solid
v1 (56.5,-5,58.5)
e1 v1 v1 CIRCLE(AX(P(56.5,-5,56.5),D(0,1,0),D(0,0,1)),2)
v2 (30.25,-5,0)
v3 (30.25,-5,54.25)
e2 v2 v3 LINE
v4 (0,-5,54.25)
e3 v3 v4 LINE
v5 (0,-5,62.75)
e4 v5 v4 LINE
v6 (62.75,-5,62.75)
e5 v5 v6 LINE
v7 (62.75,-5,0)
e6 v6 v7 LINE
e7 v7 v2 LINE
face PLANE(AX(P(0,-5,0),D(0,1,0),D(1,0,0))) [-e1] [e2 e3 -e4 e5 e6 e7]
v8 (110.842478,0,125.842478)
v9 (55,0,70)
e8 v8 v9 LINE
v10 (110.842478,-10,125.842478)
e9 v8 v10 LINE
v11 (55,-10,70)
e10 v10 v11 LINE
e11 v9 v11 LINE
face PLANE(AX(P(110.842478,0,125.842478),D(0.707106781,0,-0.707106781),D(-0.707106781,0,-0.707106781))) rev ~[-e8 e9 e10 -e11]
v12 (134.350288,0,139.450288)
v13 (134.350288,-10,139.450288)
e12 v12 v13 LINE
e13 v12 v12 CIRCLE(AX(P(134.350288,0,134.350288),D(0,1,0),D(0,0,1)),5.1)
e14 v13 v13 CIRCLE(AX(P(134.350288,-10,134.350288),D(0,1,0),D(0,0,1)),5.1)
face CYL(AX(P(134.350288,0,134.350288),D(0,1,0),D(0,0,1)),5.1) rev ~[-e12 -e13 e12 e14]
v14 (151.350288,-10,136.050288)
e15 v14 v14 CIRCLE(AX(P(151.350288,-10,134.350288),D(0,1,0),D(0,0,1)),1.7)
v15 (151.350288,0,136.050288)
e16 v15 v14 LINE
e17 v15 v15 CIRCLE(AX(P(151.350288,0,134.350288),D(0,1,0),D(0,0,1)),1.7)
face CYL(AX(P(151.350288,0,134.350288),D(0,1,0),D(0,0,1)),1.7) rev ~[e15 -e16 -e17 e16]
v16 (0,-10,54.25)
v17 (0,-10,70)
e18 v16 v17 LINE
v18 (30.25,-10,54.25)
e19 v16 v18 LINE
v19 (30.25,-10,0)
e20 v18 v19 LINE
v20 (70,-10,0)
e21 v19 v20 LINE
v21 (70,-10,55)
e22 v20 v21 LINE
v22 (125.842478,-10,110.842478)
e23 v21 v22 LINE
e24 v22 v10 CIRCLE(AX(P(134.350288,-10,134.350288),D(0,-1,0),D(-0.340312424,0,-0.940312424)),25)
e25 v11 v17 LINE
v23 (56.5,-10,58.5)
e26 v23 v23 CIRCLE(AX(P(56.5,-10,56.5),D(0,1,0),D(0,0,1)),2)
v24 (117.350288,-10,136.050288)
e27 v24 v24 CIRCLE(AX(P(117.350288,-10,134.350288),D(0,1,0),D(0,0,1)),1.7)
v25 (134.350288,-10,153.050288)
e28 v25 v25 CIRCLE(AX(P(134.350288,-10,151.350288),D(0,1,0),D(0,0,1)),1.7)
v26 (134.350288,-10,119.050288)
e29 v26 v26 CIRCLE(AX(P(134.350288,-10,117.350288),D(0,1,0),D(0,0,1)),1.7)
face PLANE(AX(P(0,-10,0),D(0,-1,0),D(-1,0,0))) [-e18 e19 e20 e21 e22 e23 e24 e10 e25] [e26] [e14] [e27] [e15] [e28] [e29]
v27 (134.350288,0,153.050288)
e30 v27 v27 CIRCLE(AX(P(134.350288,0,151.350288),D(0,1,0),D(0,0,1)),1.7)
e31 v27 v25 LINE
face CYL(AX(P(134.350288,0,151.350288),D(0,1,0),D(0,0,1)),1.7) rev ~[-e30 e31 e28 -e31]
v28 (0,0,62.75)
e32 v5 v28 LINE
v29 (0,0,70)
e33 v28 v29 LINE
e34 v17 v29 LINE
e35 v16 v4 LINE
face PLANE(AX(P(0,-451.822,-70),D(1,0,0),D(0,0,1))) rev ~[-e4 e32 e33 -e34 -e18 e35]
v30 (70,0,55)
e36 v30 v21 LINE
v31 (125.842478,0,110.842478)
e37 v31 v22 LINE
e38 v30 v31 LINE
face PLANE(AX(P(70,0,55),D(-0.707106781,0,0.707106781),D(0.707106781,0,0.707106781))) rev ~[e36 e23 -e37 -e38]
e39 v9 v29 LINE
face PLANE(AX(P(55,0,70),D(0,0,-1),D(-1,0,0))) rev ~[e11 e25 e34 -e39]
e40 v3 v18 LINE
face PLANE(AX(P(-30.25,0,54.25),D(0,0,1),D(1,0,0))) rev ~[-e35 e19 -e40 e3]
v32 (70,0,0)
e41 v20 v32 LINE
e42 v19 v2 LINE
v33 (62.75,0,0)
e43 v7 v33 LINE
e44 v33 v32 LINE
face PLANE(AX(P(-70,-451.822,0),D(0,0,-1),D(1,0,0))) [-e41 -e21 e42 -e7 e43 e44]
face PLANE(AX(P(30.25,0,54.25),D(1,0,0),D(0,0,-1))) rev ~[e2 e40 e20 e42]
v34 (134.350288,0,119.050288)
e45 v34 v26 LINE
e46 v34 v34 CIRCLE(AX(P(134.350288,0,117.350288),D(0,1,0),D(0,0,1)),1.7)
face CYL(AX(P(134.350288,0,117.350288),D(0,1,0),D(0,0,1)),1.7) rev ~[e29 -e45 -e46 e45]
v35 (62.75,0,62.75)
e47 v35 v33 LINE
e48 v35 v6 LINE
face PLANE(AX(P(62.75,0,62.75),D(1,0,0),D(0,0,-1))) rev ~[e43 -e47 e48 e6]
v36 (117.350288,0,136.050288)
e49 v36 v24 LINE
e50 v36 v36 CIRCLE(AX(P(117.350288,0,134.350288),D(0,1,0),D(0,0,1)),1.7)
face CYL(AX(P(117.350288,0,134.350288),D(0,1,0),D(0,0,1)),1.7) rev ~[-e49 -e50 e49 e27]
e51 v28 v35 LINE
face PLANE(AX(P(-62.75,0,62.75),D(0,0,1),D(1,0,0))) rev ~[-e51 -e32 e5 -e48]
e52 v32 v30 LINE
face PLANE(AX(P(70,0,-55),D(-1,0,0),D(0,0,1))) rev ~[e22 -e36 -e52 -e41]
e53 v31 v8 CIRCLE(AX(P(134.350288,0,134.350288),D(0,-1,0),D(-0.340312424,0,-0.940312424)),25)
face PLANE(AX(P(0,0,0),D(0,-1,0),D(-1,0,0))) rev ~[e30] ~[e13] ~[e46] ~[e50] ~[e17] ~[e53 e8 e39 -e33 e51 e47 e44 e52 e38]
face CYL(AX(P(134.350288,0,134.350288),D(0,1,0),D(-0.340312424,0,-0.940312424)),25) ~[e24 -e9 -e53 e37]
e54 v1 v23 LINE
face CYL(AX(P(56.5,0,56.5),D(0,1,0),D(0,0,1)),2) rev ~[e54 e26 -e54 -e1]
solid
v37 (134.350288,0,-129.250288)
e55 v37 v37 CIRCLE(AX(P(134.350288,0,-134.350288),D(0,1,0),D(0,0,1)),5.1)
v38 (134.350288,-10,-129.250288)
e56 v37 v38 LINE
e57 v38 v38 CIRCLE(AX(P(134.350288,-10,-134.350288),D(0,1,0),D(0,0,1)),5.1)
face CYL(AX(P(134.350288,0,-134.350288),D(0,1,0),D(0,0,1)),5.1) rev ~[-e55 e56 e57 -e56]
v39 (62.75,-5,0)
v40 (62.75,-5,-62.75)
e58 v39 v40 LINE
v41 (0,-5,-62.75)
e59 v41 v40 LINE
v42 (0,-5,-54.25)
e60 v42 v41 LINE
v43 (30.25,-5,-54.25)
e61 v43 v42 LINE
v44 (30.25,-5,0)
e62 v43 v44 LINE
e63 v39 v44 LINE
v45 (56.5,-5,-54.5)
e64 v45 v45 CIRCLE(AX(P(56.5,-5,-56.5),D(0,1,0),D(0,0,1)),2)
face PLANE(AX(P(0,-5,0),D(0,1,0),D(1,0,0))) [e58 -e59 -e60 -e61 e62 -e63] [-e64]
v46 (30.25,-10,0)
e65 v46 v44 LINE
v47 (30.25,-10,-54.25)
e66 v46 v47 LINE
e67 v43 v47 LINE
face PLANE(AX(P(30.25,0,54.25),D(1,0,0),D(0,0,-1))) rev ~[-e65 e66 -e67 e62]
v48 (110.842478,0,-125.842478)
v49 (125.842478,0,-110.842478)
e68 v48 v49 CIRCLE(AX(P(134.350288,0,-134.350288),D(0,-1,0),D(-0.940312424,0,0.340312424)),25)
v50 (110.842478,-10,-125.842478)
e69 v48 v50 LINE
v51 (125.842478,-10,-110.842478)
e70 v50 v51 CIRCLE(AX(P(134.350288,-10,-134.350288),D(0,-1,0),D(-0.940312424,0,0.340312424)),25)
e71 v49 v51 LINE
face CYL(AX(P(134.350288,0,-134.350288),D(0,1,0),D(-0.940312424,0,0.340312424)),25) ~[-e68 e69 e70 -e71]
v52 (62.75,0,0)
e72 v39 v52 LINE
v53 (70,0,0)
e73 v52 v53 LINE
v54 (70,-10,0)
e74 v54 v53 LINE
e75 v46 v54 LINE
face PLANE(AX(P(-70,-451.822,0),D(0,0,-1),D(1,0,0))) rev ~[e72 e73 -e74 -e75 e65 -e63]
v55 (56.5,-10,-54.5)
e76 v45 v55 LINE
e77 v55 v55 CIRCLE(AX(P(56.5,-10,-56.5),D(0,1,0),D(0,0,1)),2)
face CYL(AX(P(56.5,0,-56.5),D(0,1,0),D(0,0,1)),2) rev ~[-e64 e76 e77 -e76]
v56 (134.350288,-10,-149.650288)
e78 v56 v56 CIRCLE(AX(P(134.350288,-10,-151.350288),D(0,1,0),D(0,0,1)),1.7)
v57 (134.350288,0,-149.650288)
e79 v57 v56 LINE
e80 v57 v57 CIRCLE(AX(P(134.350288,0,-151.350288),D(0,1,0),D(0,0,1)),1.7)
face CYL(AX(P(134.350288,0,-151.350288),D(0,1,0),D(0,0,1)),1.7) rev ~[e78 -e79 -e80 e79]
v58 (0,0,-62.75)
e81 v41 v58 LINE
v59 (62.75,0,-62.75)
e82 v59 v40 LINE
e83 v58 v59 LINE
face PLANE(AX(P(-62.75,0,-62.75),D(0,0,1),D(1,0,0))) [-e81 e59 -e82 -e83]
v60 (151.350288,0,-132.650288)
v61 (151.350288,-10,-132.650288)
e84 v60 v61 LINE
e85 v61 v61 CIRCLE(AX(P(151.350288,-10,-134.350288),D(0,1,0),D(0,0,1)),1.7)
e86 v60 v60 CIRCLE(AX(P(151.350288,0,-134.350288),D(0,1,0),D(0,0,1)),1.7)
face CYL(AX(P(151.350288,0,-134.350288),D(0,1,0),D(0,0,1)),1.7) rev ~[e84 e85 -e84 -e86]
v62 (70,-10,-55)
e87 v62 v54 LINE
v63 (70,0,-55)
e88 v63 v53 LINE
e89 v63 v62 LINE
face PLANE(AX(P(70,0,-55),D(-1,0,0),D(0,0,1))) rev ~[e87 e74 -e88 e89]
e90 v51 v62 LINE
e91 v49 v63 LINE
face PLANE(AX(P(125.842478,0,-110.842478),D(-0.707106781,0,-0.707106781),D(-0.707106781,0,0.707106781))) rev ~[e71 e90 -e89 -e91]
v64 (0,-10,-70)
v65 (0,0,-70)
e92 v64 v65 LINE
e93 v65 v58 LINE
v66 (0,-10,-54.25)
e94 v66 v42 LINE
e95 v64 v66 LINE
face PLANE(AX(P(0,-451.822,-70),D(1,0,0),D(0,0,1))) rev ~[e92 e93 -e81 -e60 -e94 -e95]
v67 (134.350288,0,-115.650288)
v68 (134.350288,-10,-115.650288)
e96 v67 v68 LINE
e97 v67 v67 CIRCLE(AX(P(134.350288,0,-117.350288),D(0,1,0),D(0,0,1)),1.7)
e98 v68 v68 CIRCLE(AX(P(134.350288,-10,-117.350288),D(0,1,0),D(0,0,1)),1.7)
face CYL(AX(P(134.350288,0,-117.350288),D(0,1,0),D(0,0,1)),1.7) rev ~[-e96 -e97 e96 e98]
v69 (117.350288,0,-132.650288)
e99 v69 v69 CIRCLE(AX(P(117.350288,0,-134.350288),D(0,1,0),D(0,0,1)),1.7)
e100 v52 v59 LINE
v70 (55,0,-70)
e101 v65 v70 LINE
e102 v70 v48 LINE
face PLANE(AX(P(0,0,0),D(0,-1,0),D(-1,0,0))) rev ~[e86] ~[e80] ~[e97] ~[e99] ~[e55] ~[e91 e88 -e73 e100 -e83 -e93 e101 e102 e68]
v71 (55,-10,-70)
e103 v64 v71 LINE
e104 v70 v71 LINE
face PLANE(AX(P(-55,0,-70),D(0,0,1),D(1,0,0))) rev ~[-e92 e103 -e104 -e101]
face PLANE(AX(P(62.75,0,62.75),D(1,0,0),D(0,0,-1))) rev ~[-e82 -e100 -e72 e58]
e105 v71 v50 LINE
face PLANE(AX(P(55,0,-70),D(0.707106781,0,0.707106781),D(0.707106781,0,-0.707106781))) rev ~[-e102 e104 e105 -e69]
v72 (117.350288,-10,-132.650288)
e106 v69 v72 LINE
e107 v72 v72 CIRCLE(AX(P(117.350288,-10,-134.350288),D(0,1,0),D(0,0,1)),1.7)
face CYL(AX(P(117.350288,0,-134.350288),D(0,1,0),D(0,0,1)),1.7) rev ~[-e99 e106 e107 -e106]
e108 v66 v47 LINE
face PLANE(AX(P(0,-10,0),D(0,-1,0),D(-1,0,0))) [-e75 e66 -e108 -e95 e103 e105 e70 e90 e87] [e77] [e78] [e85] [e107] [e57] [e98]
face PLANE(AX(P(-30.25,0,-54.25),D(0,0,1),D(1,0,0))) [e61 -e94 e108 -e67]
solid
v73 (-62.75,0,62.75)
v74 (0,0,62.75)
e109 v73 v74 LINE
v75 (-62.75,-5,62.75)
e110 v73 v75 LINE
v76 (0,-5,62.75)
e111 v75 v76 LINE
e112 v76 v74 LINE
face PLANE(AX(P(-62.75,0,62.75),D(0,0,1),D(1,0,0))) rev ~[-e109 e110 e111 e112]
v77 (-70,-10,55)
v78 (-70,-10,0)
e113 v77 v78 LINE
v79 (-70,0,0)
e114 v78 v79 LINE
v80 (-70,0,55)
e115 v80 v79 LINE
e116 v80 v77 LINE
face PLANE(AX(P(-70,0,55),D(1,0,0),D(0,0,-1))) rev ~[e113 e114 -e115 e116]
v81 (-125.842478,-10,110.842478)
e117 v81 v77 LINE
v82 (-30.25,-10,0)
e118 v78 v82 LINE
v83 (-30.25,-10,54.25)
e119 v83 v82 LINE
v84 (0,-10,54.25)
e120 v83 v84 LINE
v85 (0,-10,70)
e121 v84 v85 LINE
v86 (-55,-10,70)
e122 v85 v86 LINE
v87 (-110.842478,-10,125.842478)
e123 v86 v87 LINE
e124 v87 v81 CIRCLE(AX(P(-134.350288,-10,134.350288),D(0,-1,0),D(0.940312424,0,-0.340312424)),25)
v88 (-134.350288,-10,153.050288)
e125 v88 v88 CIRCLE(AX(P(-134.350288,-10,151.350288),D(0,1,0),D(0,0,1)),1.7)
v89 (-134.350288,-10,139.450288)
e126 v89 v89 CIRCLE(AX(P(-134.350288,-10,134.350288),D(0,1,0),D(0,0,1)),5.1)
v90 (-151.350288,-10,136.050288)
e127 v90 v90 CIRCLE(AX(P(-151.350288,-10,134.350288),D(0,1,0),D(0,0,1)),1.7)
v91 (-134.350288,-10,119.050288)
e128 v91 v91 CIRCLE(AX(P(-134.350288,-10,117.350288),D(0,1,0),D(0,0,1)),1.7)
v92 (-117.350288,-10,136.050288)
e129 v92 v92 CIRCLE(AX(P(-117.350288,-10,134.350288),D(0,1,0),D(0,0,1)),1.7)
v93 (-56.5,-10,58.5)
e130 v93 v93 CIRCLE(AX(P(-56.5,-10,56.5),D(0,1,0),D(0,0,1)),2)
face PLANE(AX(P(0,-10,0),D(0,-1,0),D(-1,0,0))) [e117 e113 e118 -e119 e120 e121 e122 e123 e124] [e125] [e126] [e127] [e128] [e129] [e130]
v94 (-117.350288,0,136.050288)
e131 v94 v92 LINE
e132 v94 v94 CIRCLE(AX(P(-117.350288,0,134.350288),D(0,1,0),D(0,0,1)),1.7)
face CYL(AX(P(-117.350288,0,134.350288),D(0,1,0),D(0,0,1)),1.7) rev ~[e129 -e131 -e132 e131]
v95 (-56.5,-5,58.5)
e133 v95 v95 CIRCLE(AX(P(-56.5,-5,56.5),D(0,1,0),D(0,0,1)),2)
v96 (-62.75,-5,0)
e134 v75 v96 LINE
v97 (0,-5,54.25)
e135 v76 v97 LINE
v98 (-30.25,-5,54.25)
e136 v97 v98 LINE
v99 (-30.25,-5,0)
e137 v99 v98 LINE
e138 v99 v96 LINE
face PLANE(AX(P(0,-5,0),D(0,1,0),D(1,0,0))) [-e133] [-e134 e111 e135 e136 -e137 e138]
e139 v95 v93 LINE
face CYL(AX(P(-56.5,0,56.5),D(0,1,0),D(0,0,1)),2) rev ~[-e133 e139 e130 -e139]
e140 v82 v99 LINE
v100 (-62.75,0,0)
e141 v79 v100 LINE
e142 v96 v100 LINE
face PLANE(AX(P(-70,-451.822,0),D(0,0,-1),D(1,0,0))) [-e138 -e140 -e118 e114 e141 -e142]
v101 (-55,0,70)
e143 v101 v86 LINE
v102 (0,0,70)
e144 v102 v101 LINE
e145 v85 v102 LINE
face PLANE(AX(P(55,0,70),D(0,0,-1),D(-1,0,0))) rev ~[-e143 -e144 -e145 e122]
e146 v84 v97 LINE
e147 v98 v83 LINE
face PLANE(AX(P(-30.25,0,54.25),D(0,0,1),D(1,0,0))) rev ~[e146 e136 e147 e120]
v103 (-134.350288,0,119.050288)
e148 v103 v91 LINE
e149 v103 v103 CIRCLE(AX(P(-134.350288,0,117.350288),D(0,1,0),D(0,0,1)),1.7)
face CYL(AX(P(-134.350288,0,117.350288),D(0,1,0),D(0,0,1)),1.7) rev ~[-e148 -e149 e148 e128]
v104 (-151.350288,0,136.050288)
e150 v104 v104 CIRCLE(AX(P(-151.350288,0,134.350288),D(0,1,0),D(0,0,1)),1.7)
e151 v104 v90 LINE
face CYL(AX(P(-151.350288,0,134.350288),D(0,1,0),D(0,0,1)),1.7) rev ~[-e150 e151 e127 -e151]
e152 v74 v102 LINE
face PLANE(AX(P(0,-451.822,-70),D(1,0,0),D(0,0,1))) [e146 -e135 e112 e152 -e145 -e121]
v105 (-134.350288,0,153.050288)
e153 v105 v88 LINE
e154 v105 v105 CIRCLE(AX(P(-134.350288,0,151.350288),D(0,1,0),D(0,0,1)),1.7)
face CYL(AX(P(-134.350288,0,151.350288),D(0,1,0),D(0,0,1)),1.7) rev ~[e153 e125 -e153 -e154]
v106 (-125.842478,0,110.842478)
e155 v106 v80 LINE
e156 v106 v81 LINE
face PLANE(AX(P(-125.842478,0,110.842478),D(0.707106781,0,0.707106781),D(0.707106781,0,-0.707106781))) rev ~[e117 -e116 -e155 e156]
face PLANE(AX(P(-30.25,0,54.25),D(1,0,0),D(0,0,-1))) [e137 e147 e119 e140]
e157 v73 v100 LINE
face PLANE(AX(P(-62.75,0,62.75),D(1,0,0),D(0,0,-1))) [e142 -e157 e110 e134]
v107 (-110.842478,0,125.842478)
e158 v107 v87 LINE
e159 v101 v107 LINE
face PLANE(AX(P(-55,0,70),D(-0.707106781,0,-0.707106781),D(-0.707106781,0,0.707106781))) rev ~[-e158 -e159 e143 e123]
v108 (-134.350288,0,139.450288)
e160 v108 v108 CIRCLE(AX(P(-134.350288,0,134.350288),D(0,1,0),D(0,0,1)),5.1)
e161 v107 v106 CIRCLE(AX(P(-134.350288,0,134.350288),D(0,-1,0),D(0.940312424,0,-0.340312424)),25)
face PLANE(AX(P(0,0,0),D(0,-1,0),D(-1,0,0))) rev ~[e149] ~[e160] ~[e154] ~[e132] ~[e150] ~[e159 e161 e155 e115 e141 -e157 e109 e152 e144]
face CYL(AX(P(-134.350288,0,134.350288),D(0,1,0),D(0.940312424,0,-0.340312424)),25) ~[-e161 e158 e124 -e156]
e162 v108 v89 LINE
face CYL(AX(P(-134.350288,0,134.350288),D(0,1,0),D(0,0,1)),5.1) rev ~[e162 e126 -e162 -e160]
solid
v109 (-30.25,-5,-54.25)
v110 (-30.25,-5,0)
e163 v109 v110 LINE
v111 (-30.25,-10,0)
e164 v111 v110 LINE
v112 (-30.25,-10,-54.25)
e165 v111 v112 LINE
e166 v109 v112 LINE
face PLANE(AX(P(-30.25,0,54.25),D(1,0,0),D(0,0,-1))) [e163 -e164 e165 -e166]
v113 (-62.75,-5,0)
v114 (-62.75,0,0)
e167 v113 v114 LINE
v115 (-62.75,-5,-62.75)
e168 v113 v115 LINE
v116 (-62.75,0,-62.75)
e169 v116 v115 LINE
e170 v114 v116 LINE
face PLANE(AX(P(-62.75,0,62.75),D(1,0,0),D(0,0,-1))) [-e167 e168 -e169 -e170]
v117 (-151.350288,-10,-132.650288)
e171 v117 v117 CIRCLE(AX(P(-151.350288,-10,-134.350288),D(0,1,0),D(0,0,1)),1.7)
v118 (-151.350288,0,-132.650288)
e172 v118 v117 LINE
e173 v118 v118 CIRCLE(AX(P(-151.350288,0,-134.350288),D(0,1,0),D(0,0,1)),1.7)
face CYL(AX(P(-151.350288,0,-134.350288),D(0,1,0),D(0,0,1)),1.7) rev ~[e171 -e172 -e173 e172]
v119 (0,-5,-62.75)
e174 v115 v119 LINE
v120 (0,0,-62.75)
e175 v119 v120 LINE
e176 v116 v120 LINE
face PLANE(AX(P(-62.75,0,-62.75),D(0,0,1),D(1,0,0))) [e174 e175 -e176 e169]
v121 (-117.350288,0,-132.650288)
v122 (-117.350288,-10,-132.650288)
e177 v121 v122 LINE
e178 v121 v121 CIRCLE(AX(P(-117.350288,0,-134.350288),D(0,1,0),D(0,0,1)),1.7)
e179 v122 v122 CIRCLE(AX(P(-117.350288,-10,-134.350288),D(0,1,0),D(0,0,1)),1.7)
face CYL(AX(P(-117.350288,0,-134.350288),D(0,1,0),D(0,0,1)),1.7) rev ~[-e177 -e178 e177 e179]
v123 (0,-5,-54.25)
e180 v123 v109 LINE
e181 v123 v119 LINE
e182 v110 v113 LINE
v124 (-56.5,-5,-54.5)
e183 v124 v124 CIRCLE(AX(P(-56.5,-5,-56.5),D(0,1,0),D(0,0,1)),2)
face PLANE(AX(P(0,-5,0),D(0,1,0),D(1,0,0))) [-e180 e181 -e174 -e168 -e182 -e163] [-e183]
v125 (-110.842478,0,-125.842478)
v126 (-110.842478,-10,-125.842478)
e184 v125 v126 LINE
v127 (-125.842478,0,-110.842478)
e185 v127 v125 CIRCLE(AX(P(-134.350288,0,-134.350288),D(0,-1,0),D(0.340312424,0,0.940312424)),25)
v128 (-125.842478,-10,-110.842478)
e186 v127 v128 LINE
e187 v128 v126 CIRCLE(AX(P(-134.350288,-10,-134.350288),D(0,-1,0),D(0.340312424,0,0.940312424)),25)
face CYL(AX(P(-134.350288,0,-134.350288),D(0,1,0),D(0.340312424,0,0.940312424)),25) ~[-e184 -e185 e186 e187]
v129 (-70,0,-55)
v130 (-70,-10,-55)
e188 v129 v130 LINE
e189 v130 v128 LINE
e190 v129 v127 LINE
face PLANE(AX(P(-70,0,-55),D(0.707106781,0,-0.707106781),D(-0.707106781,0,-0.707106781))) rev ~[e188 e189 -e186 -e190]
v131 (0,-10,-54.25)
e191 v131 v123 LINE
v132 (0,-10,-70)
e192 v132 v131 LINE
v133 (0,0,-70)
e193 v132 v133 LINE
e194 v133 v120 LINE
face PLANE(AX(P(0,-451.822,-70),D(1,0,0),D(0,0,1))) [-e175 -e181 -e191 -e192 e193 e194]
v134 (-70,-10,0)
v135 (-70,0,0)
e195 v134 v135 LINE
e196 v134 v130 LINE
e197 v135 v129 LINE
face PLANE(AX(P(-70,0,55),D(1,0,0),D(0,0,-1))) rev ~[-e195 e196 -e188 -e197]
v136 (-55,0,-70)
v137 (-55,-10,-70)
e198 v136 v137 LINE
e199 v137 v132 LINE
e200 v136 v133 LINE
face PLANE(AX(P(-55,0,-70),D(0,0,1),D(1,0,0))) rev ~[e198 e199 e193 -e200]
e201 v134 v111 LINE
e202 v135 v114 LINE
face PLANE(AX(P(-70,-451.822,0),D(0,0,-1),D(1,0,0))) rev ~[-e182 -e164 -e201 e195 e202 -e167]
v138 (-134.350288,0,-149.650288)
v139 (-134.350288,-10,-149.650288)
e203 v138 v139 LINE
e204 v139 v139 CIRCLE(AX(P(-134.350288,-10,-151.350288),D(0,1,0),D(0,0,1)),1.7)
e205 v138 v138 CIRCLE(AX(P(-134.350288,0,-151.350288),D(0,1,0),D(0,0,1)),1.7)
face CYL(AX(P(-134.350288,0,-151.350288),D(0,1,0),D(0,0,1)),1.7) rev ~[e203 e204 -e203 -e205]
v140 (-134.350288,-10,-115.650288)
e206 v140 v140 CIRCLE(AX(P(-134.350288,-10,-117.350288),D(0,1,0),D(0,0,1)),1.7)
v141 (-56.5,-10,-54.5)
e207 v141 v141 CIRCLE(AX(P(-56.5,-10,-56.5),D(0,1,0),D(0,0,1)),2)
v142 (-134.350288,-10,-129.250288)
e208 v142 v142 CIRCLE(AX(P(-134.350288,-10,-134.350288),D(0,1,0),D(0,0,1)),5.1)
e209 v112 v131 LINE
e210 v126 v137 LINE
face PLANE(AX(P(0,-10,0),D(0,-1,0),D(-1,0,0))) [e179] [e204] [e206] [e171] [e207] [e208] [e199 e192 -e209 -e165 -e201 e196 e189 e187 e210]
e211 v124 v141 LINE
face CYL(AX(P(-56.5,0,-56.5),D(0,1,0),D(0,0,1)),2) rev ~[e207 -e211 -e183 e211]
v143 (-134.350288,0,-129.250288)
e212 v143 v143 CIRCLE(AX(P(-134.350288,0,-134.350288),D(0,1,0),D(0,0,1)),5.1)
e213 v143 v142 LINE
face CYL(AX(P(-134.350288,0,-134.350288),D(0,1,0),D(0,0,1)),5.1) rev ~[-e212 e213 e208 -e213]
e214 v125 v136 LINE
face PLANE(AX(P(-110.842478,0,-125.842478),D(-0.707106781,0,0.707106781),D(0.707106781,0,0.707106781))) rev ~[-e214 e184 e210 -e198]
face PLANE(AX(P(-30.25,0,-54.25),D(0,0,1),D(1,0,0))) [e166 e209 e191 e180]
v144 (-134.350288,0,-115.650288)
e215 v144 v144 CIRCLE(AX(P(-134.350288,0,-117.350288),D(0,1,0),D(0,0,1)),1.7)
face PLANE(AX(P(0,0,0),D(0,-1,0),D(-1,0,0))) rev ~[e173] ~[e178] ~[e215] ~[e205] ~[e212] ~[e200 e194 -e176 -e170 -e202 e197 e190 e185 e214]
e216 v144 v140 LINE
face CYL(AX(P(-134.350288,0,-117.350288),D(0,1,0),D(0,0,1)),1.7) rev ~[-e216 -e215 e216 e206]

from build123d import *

# Parameters (mm, degrees)
SKETCH_1_R                       = 2
SKETCH_1_R_2                     = 1.7
SKETCH_1_R_3                     = 5.1
SKETCH_1_W                       = 60.5
SKETCH_1_H                       = 108.5
EXTRUDE_1_DEPTH                  = 10
SKETCH_4_W                       = 125.5
SKETCH_4_H                       = 125.5
CUT_EXTRUDE_1_DEPTH              = 5
SPLIT_BODIES_2_SURFACE_1_1_BACK  = 451.822
SPLIT_BODIES_2_SURFACE_1_1_DEPTH = 903.644
SPLIT_BODIES_2_SURFACE_1_2_BACK  = 451.822
SPLIT_BODIES_2_SURFACE_1_2_DEPTH = 903.644
SPLIT_BODIES_2_SURFACE_2_3_BACK  = 451.822
SPLIT_BODIES_2_SURFACE_2_3_DEPTH = 903.644
SPLIT_BODIES_2_SURFACE_2_4_BACK  = 451.822
SPLIT_BODIES_2_SURFACE_2_4_DEPTH = 903.644
SPLIT_BODIES_2_SURFACE_2_5_BACK  = 451.822
SPLIT_BODIES_2_SURFACE_2_5_DEPTH = 903.644
SPLIT_BODIES_2_SURFACE_2_6_BACK  = 451.822
SPLIT_BODIES_2_SURFACE_2_6_DEPTH = 903.644


with BuildPart() as part:
    # 스케치1 → 보스-돌출1 (new body)
    with BuildSketch(Plane(origin=(0, 0, 0), x_dir=(1, 0, 0), z_dir=(0, 1, 0))):
        with BuildLine():
            Line((55, 70), (110.842477832, 125.842477832))
            ThreePointArc((110.842477832, 125.842477832), (152.027957955, 152.027957955), (125.842477832, 110.842477832))
            Line((125.842477832, 110.842477832), (70, 55))
            Line((70, 55), (70, -55))
            Line((70, -55), (125.842477832, -110.842477832))
            ThreePointArc((125.842477832, -110.842477832), (152.027957955, -152.027957955), (110.842477832, -125.842477832))
            Line((110.842477832, -125.842477832), (55, -70))
            Line((55, -70), (-55, -70))
            Line((-55, -70), (-110.842477832, -125.842477832))
            ThreePointArc((-110.842477832, -125.842477832), (-152.027957955, -152.027957955), (-125.842477832, -110.842477832))
            Line((-125.842477832, -110.842477832), (-70, -55))
            Line((-70, -55), (-70, 55))
            Line((-70, 55), (-125.842477832, 110.842477832))
            ThreePointArc((-125.842477832, 110.842477832), (-152.027957955, 152.027957955), (-110.842477832, 125.842477832))
            Line((-110.842477832, 125.842477832), (-55, 70))
            Line((-55, 70), (55, 70))
        make_face()
        with Locations((-56.5, -56.5)):
            Circle(SKETCH_1_R, mode=Mode.SUBTRACT)
        with Locations((56.5, -56.5)):
            Circle(SKETCH_1_R, mode=Mode.SUBTRACT)
        with Locations((56.5, 56.5)):
            Circle(SKETCH_1_R, mode=Mode.SUBTRACT)
        with Locations((-56.5, 56.5)):
            Circle(SKETCH_1_R, mode=Mode.SUBTRACT)
        with Locations((134.350288425, 117.350288425)):
            Circle(SKETCH_1_R_2, mode=Mode.SUBTRACT)
        with Locations((117.350288425, 134.350288425)):
            Circle(SKETCH_1_R_2, mode=Mode.SUBTRACT)
        with Locations((151.350288425, 134.350288425)):
            Circle(SKETCH_1_R_2, mode=Mode.SUBTRACT)
        with Locations((134.350288425, 151.350288425)):
            Circle(SKETCH_1_R_2, mode=Mode.SUBTRACT)
        with Locations((134.350288425, 134.350288425)):
            Circle(SKETCH_1_R_3, mode=Mode.SUBTRACT)
        with Locations((117.350288425, -134.350288425)):
            Circle(SKETCH_1_R_2, mode=Mode.SUBTRACT)
        with Locations((134.350288425, -117.350288425)):
            Circle(SKETCH_1_R_2, mode=Mode.SUBTRACT)
        with Locations((134.350288425, -151.350288425)):
            Circle(SKETCH_1_R_2, mode=Mode.SUBTRACT)
        with Locations((151.350288425, -134.350288425)):
            Circle(SKETCH_1_R_2, mode=Mode.SUBTRACT)
        with Locations((134.350288425, -134.350288425)):
            Circle(SKETCH_1_R_3, mode=Mode.SUBTRACT)
        with Locations((-134.350288425, -117.350288425)):
            Circle(SKETCH_1_R_2, mode=Mode.SUBTRACT)
        with Locations((-117.350288425, -134.350288425)):
            Circle(SKETCH_1_R_2, mode=Mode.SUBTRACT)
        with Locations((-151.350288425, -134.350288425)):
            Circle(SKETCH_1_R_2, mode=Mode.SUBTRACT)
        with Locations((-134.350288425, -151.350288425)):
            Circle(SKETCH_1_R_2, mode=Mode.SUBTRACT)
        with Locations((-134.350288425, -134.350288425)):
            Circle(SKETCH_1_R_3, mode=Mode.SUBTRACT)
        with Locations((-117.350288425, 134.350288425)):
            Circle(SKETCH_1_R_2, mode=Mode.SUBTRACT)
        with Locations((-134.350288425, 117.350288425)):
            Circle(SKETCH_1_R_2, mode=Mode.SUBTRACT)
        with Locations((-134.350288425, 151.350288425)):
            Circle(SKETCH_1_R_2, mode=Mode.SUBTRACT)
        with Locations((-151.350288425, 134.350288425)):
            Circle(SKETCH_1_R_2, mode=Mode.SUBTRACT)
        with Locations((-134.350288425, 134.350288425)):
            Circle(SKETCH_1_R_3, mode=Mode.SUBTRACT)
        Rectangle(SKETCH_1_W, SKETCH_1_H, mode=Mode.SUBTRACT)
    extrude(amount=-EXTRUDE_1_DEPTH)

    # 스케치4 → 컷-돌출1 (cut)
    with BuildSketch(Plane(origin=(0, 0, 0), x_dir=(1, 0, 0), z_dir=(0, 1, 0))):
        Rectangle(SKETCH_4_W, SKETCH_4_H)
    extrude(amount=-CUT_EXTRUDE_1_DEPTH, mode=Mode.SUBTRACT)


with BuildPart() as body_2:
    # Split Bodies 2: the piece behind the surface
    add(part.part)
    # Split Bodies 2 surface 1: a surface, the sketch's curves swept straight by 903.644 mm
    with BuildLine(Plane(origin=(0, 0, 0), x_dir=(1, 0, 0), z_dir=(0, 1, 0)).offset(-SPLIT_BODIES_2_SURFACE_1_1_BACK), mode=Mode.PRIVATE) as split_bodies_2_surface_1_1_path:
        Line((0, 70), (0, -70))
    split_bodies_2_surface_1_1 = Shell.extrude(split_bodies_2_surface_1_1_path.wire(), (0 * SPLIT_BODIES_2_SURFACE_1_1_DEPTH, 1 * SPLIT_BODIES_2_SURFACE_1_1_DEPTH, 0 * SPLIT_BODIES_2_SURFACE_1_1_DEPTH))
    split(bisect_by=split_bodies_2_surface_1_1, keep=Keep.BOTTOM)


with BuildPart() as part_1:
    add(part.part)

    # Split Bodies 2: split by a surface, the side it looks to stays
    # Split Bodies 2 surface 1: a surface, the sketch's curves swept straight by 903.644 mm
    with BuildLine(Plane(origin=(0, 0, 0), x_dir=(1, 0, 0), z_dir=(0, 1, 0)).offset(-SPLIT_BODIES_2_SURFACE_1_2_BACK), mode=Mode.PRIVATE) as split_bodies_2_surface_1_2_path:
        Line((0, 70), (0, -70))
    split_bodies_2_surface_1_2 = Shell.extrude(split_bodies_2_surface_1_2_path.wire(), (0 * SPLIT_BODIES_2_SURFACE_1_2_DEPTH, 1 * SPLIT_BODIES_2_SURFACE_1_2_DEPTH, 0 * SPLIT_BODIES_2_SURFACE_1_2_DEPTH))
    split(bisect_by=split_bodies_2_surface_1_2, keep=Keep.TOP)


with BuildPart() as body_3:
    # Split Bodies 2 2: the piece behind the surface
    add(part_1.part)
    # Split Bodies 2 surface 2: a surface, the sketch's curves swept straight by 903.644 mm
    with BuildLine(Plane(origin=(0, 0, 0), x_dir=(1, 0, 0), z_dir=(0, 1, 0)).offset(-SPLIT_BODIES_2_SURFACE_2_3_BACK), mode=Mode.PRIVATE) as split_bodies_2_surface_2_3_path:
        Line((-70, 0), (70, 0))
    split_bodies_2_surface_2_3 = Shell.extrude(split_bodies_2_surface_2_3_path.wire(), (0 * SPLIT_BODIES_2_SURFACE_2_3_DEPTH, 1 * SPLIT_BODIES_2_SURFACE_2_3_DEPTH, 0 * SPLIT_BODIES_2_SURFACE_2_3_DEPTH))
    split(bisect_by=split_bodies_2_surface_2_3, keep=Keep.BOTTOM)


with BuildPart() as part_2:
    add(part_1.part)

    # Split Bodies 2 2: split by a surface, the side it looks to stays
    # Split Bodies 2 surface 2: a surface, the sketch's curves swept straight by 903.644 mm
    with BuildLine(Plane(origin=(0, 0, 0), x_dir=(1, 0, 0), z_dir=(0, 1, 0)).offset(-SPLIT_BODIES_2_SURFACE_2_4_BACK), mode=Mode.PRIVATE) as split_bodies_2_surface_2_4_path:
        Line((-70, 0), (70, 0))
    split_bodies_2_surface_2_4 = Shell.extrude(split_bodies_2_surface_2_4_path.wire(), (0 * SPLIT_BODIES_2_SURFACE_2_4_DEPTH, 1 * SPLIT_BODIES_2_SURFACE_2_4_DEPTH, 0 * SPLIT_BODIES_2_SURFACE_2_4_DEPTH))
    split(bisect_by=split_bodies_2_surface_2_4, keep=Keep.TOP)


with BuildPart() as body_4:
    # Split Bodies 2 2 body 2: the piece behind the surface
    add(body_2.part)
    # Split Bodies 2 surface 2: a surface, the sketch's curves swept straight by 903.644 mm
    with BuildLine(Plane(origin=(0, 0, 0), x_dir=(1, 0, 0), z_dir=(0, 1, 0)).offset(-SPLIT_BODIES_2_SURFACE_2_5_BACK), mode=Mode.PRIVATE) as split_bodies_2_surface_2_5_path:
        Line((-70, 0), (70, 0))
    split_bodies_2_surface_2_5 = Shell.extrude(split_bodies_2_surface_2_5_path.wire(), (0 * SPLIT_BODIES_2_SURFACE_2_5_DEPTH, 1 * SPLIT_BODIES_2_SURFACE_2_5_DEPTH, 0 * SPLIT_BODIES_2_SURFACE_2_5_DEPTH))
    split(bisect_by=split_bodies_2_surface_2_5, keep=Keep.BOTTOM)


with BuildPart() as body_2_1:
    add(body_2.part)

    # Split Bodies 2 2 body 2: split by a surface, the side it looks to stays
    # Split Bodies 2 surface 2: a surface, the sketch's curves swept straight by 903.644 mm
    with BuildLine(Plane(origin=(0, 0, 0), x_dir=(1, 0, 0), z_dir=(0, 1, 0)).offset(-SPLIT_BODIES_2_SURFACE_2_6_BACK), mode=Mode.PRIVATE) as split_bodies_2_surface_2_6_path:
        Line((-70, 0), (70, 0))
    split_bodies_2_surface_2_6 = Shell.extrude(split_bodies_2_surface_2_6_path.wire(), (0 * SPLIT_BODIES_2_SURFACE_2_6_DEPTH, 1 * SPLIT_BODIES_2_SURFACE_2_6_DEPTH, 0 * SPLIT_BODIES_2_SURFACE_2_6_DEPTH))
    split(bisect_by=split_bodies_2_surface_2_6, keep=Keep.TOP)


solid = Compound([body_3.part, part_2.part, body_4.part, body_2_1.part])
